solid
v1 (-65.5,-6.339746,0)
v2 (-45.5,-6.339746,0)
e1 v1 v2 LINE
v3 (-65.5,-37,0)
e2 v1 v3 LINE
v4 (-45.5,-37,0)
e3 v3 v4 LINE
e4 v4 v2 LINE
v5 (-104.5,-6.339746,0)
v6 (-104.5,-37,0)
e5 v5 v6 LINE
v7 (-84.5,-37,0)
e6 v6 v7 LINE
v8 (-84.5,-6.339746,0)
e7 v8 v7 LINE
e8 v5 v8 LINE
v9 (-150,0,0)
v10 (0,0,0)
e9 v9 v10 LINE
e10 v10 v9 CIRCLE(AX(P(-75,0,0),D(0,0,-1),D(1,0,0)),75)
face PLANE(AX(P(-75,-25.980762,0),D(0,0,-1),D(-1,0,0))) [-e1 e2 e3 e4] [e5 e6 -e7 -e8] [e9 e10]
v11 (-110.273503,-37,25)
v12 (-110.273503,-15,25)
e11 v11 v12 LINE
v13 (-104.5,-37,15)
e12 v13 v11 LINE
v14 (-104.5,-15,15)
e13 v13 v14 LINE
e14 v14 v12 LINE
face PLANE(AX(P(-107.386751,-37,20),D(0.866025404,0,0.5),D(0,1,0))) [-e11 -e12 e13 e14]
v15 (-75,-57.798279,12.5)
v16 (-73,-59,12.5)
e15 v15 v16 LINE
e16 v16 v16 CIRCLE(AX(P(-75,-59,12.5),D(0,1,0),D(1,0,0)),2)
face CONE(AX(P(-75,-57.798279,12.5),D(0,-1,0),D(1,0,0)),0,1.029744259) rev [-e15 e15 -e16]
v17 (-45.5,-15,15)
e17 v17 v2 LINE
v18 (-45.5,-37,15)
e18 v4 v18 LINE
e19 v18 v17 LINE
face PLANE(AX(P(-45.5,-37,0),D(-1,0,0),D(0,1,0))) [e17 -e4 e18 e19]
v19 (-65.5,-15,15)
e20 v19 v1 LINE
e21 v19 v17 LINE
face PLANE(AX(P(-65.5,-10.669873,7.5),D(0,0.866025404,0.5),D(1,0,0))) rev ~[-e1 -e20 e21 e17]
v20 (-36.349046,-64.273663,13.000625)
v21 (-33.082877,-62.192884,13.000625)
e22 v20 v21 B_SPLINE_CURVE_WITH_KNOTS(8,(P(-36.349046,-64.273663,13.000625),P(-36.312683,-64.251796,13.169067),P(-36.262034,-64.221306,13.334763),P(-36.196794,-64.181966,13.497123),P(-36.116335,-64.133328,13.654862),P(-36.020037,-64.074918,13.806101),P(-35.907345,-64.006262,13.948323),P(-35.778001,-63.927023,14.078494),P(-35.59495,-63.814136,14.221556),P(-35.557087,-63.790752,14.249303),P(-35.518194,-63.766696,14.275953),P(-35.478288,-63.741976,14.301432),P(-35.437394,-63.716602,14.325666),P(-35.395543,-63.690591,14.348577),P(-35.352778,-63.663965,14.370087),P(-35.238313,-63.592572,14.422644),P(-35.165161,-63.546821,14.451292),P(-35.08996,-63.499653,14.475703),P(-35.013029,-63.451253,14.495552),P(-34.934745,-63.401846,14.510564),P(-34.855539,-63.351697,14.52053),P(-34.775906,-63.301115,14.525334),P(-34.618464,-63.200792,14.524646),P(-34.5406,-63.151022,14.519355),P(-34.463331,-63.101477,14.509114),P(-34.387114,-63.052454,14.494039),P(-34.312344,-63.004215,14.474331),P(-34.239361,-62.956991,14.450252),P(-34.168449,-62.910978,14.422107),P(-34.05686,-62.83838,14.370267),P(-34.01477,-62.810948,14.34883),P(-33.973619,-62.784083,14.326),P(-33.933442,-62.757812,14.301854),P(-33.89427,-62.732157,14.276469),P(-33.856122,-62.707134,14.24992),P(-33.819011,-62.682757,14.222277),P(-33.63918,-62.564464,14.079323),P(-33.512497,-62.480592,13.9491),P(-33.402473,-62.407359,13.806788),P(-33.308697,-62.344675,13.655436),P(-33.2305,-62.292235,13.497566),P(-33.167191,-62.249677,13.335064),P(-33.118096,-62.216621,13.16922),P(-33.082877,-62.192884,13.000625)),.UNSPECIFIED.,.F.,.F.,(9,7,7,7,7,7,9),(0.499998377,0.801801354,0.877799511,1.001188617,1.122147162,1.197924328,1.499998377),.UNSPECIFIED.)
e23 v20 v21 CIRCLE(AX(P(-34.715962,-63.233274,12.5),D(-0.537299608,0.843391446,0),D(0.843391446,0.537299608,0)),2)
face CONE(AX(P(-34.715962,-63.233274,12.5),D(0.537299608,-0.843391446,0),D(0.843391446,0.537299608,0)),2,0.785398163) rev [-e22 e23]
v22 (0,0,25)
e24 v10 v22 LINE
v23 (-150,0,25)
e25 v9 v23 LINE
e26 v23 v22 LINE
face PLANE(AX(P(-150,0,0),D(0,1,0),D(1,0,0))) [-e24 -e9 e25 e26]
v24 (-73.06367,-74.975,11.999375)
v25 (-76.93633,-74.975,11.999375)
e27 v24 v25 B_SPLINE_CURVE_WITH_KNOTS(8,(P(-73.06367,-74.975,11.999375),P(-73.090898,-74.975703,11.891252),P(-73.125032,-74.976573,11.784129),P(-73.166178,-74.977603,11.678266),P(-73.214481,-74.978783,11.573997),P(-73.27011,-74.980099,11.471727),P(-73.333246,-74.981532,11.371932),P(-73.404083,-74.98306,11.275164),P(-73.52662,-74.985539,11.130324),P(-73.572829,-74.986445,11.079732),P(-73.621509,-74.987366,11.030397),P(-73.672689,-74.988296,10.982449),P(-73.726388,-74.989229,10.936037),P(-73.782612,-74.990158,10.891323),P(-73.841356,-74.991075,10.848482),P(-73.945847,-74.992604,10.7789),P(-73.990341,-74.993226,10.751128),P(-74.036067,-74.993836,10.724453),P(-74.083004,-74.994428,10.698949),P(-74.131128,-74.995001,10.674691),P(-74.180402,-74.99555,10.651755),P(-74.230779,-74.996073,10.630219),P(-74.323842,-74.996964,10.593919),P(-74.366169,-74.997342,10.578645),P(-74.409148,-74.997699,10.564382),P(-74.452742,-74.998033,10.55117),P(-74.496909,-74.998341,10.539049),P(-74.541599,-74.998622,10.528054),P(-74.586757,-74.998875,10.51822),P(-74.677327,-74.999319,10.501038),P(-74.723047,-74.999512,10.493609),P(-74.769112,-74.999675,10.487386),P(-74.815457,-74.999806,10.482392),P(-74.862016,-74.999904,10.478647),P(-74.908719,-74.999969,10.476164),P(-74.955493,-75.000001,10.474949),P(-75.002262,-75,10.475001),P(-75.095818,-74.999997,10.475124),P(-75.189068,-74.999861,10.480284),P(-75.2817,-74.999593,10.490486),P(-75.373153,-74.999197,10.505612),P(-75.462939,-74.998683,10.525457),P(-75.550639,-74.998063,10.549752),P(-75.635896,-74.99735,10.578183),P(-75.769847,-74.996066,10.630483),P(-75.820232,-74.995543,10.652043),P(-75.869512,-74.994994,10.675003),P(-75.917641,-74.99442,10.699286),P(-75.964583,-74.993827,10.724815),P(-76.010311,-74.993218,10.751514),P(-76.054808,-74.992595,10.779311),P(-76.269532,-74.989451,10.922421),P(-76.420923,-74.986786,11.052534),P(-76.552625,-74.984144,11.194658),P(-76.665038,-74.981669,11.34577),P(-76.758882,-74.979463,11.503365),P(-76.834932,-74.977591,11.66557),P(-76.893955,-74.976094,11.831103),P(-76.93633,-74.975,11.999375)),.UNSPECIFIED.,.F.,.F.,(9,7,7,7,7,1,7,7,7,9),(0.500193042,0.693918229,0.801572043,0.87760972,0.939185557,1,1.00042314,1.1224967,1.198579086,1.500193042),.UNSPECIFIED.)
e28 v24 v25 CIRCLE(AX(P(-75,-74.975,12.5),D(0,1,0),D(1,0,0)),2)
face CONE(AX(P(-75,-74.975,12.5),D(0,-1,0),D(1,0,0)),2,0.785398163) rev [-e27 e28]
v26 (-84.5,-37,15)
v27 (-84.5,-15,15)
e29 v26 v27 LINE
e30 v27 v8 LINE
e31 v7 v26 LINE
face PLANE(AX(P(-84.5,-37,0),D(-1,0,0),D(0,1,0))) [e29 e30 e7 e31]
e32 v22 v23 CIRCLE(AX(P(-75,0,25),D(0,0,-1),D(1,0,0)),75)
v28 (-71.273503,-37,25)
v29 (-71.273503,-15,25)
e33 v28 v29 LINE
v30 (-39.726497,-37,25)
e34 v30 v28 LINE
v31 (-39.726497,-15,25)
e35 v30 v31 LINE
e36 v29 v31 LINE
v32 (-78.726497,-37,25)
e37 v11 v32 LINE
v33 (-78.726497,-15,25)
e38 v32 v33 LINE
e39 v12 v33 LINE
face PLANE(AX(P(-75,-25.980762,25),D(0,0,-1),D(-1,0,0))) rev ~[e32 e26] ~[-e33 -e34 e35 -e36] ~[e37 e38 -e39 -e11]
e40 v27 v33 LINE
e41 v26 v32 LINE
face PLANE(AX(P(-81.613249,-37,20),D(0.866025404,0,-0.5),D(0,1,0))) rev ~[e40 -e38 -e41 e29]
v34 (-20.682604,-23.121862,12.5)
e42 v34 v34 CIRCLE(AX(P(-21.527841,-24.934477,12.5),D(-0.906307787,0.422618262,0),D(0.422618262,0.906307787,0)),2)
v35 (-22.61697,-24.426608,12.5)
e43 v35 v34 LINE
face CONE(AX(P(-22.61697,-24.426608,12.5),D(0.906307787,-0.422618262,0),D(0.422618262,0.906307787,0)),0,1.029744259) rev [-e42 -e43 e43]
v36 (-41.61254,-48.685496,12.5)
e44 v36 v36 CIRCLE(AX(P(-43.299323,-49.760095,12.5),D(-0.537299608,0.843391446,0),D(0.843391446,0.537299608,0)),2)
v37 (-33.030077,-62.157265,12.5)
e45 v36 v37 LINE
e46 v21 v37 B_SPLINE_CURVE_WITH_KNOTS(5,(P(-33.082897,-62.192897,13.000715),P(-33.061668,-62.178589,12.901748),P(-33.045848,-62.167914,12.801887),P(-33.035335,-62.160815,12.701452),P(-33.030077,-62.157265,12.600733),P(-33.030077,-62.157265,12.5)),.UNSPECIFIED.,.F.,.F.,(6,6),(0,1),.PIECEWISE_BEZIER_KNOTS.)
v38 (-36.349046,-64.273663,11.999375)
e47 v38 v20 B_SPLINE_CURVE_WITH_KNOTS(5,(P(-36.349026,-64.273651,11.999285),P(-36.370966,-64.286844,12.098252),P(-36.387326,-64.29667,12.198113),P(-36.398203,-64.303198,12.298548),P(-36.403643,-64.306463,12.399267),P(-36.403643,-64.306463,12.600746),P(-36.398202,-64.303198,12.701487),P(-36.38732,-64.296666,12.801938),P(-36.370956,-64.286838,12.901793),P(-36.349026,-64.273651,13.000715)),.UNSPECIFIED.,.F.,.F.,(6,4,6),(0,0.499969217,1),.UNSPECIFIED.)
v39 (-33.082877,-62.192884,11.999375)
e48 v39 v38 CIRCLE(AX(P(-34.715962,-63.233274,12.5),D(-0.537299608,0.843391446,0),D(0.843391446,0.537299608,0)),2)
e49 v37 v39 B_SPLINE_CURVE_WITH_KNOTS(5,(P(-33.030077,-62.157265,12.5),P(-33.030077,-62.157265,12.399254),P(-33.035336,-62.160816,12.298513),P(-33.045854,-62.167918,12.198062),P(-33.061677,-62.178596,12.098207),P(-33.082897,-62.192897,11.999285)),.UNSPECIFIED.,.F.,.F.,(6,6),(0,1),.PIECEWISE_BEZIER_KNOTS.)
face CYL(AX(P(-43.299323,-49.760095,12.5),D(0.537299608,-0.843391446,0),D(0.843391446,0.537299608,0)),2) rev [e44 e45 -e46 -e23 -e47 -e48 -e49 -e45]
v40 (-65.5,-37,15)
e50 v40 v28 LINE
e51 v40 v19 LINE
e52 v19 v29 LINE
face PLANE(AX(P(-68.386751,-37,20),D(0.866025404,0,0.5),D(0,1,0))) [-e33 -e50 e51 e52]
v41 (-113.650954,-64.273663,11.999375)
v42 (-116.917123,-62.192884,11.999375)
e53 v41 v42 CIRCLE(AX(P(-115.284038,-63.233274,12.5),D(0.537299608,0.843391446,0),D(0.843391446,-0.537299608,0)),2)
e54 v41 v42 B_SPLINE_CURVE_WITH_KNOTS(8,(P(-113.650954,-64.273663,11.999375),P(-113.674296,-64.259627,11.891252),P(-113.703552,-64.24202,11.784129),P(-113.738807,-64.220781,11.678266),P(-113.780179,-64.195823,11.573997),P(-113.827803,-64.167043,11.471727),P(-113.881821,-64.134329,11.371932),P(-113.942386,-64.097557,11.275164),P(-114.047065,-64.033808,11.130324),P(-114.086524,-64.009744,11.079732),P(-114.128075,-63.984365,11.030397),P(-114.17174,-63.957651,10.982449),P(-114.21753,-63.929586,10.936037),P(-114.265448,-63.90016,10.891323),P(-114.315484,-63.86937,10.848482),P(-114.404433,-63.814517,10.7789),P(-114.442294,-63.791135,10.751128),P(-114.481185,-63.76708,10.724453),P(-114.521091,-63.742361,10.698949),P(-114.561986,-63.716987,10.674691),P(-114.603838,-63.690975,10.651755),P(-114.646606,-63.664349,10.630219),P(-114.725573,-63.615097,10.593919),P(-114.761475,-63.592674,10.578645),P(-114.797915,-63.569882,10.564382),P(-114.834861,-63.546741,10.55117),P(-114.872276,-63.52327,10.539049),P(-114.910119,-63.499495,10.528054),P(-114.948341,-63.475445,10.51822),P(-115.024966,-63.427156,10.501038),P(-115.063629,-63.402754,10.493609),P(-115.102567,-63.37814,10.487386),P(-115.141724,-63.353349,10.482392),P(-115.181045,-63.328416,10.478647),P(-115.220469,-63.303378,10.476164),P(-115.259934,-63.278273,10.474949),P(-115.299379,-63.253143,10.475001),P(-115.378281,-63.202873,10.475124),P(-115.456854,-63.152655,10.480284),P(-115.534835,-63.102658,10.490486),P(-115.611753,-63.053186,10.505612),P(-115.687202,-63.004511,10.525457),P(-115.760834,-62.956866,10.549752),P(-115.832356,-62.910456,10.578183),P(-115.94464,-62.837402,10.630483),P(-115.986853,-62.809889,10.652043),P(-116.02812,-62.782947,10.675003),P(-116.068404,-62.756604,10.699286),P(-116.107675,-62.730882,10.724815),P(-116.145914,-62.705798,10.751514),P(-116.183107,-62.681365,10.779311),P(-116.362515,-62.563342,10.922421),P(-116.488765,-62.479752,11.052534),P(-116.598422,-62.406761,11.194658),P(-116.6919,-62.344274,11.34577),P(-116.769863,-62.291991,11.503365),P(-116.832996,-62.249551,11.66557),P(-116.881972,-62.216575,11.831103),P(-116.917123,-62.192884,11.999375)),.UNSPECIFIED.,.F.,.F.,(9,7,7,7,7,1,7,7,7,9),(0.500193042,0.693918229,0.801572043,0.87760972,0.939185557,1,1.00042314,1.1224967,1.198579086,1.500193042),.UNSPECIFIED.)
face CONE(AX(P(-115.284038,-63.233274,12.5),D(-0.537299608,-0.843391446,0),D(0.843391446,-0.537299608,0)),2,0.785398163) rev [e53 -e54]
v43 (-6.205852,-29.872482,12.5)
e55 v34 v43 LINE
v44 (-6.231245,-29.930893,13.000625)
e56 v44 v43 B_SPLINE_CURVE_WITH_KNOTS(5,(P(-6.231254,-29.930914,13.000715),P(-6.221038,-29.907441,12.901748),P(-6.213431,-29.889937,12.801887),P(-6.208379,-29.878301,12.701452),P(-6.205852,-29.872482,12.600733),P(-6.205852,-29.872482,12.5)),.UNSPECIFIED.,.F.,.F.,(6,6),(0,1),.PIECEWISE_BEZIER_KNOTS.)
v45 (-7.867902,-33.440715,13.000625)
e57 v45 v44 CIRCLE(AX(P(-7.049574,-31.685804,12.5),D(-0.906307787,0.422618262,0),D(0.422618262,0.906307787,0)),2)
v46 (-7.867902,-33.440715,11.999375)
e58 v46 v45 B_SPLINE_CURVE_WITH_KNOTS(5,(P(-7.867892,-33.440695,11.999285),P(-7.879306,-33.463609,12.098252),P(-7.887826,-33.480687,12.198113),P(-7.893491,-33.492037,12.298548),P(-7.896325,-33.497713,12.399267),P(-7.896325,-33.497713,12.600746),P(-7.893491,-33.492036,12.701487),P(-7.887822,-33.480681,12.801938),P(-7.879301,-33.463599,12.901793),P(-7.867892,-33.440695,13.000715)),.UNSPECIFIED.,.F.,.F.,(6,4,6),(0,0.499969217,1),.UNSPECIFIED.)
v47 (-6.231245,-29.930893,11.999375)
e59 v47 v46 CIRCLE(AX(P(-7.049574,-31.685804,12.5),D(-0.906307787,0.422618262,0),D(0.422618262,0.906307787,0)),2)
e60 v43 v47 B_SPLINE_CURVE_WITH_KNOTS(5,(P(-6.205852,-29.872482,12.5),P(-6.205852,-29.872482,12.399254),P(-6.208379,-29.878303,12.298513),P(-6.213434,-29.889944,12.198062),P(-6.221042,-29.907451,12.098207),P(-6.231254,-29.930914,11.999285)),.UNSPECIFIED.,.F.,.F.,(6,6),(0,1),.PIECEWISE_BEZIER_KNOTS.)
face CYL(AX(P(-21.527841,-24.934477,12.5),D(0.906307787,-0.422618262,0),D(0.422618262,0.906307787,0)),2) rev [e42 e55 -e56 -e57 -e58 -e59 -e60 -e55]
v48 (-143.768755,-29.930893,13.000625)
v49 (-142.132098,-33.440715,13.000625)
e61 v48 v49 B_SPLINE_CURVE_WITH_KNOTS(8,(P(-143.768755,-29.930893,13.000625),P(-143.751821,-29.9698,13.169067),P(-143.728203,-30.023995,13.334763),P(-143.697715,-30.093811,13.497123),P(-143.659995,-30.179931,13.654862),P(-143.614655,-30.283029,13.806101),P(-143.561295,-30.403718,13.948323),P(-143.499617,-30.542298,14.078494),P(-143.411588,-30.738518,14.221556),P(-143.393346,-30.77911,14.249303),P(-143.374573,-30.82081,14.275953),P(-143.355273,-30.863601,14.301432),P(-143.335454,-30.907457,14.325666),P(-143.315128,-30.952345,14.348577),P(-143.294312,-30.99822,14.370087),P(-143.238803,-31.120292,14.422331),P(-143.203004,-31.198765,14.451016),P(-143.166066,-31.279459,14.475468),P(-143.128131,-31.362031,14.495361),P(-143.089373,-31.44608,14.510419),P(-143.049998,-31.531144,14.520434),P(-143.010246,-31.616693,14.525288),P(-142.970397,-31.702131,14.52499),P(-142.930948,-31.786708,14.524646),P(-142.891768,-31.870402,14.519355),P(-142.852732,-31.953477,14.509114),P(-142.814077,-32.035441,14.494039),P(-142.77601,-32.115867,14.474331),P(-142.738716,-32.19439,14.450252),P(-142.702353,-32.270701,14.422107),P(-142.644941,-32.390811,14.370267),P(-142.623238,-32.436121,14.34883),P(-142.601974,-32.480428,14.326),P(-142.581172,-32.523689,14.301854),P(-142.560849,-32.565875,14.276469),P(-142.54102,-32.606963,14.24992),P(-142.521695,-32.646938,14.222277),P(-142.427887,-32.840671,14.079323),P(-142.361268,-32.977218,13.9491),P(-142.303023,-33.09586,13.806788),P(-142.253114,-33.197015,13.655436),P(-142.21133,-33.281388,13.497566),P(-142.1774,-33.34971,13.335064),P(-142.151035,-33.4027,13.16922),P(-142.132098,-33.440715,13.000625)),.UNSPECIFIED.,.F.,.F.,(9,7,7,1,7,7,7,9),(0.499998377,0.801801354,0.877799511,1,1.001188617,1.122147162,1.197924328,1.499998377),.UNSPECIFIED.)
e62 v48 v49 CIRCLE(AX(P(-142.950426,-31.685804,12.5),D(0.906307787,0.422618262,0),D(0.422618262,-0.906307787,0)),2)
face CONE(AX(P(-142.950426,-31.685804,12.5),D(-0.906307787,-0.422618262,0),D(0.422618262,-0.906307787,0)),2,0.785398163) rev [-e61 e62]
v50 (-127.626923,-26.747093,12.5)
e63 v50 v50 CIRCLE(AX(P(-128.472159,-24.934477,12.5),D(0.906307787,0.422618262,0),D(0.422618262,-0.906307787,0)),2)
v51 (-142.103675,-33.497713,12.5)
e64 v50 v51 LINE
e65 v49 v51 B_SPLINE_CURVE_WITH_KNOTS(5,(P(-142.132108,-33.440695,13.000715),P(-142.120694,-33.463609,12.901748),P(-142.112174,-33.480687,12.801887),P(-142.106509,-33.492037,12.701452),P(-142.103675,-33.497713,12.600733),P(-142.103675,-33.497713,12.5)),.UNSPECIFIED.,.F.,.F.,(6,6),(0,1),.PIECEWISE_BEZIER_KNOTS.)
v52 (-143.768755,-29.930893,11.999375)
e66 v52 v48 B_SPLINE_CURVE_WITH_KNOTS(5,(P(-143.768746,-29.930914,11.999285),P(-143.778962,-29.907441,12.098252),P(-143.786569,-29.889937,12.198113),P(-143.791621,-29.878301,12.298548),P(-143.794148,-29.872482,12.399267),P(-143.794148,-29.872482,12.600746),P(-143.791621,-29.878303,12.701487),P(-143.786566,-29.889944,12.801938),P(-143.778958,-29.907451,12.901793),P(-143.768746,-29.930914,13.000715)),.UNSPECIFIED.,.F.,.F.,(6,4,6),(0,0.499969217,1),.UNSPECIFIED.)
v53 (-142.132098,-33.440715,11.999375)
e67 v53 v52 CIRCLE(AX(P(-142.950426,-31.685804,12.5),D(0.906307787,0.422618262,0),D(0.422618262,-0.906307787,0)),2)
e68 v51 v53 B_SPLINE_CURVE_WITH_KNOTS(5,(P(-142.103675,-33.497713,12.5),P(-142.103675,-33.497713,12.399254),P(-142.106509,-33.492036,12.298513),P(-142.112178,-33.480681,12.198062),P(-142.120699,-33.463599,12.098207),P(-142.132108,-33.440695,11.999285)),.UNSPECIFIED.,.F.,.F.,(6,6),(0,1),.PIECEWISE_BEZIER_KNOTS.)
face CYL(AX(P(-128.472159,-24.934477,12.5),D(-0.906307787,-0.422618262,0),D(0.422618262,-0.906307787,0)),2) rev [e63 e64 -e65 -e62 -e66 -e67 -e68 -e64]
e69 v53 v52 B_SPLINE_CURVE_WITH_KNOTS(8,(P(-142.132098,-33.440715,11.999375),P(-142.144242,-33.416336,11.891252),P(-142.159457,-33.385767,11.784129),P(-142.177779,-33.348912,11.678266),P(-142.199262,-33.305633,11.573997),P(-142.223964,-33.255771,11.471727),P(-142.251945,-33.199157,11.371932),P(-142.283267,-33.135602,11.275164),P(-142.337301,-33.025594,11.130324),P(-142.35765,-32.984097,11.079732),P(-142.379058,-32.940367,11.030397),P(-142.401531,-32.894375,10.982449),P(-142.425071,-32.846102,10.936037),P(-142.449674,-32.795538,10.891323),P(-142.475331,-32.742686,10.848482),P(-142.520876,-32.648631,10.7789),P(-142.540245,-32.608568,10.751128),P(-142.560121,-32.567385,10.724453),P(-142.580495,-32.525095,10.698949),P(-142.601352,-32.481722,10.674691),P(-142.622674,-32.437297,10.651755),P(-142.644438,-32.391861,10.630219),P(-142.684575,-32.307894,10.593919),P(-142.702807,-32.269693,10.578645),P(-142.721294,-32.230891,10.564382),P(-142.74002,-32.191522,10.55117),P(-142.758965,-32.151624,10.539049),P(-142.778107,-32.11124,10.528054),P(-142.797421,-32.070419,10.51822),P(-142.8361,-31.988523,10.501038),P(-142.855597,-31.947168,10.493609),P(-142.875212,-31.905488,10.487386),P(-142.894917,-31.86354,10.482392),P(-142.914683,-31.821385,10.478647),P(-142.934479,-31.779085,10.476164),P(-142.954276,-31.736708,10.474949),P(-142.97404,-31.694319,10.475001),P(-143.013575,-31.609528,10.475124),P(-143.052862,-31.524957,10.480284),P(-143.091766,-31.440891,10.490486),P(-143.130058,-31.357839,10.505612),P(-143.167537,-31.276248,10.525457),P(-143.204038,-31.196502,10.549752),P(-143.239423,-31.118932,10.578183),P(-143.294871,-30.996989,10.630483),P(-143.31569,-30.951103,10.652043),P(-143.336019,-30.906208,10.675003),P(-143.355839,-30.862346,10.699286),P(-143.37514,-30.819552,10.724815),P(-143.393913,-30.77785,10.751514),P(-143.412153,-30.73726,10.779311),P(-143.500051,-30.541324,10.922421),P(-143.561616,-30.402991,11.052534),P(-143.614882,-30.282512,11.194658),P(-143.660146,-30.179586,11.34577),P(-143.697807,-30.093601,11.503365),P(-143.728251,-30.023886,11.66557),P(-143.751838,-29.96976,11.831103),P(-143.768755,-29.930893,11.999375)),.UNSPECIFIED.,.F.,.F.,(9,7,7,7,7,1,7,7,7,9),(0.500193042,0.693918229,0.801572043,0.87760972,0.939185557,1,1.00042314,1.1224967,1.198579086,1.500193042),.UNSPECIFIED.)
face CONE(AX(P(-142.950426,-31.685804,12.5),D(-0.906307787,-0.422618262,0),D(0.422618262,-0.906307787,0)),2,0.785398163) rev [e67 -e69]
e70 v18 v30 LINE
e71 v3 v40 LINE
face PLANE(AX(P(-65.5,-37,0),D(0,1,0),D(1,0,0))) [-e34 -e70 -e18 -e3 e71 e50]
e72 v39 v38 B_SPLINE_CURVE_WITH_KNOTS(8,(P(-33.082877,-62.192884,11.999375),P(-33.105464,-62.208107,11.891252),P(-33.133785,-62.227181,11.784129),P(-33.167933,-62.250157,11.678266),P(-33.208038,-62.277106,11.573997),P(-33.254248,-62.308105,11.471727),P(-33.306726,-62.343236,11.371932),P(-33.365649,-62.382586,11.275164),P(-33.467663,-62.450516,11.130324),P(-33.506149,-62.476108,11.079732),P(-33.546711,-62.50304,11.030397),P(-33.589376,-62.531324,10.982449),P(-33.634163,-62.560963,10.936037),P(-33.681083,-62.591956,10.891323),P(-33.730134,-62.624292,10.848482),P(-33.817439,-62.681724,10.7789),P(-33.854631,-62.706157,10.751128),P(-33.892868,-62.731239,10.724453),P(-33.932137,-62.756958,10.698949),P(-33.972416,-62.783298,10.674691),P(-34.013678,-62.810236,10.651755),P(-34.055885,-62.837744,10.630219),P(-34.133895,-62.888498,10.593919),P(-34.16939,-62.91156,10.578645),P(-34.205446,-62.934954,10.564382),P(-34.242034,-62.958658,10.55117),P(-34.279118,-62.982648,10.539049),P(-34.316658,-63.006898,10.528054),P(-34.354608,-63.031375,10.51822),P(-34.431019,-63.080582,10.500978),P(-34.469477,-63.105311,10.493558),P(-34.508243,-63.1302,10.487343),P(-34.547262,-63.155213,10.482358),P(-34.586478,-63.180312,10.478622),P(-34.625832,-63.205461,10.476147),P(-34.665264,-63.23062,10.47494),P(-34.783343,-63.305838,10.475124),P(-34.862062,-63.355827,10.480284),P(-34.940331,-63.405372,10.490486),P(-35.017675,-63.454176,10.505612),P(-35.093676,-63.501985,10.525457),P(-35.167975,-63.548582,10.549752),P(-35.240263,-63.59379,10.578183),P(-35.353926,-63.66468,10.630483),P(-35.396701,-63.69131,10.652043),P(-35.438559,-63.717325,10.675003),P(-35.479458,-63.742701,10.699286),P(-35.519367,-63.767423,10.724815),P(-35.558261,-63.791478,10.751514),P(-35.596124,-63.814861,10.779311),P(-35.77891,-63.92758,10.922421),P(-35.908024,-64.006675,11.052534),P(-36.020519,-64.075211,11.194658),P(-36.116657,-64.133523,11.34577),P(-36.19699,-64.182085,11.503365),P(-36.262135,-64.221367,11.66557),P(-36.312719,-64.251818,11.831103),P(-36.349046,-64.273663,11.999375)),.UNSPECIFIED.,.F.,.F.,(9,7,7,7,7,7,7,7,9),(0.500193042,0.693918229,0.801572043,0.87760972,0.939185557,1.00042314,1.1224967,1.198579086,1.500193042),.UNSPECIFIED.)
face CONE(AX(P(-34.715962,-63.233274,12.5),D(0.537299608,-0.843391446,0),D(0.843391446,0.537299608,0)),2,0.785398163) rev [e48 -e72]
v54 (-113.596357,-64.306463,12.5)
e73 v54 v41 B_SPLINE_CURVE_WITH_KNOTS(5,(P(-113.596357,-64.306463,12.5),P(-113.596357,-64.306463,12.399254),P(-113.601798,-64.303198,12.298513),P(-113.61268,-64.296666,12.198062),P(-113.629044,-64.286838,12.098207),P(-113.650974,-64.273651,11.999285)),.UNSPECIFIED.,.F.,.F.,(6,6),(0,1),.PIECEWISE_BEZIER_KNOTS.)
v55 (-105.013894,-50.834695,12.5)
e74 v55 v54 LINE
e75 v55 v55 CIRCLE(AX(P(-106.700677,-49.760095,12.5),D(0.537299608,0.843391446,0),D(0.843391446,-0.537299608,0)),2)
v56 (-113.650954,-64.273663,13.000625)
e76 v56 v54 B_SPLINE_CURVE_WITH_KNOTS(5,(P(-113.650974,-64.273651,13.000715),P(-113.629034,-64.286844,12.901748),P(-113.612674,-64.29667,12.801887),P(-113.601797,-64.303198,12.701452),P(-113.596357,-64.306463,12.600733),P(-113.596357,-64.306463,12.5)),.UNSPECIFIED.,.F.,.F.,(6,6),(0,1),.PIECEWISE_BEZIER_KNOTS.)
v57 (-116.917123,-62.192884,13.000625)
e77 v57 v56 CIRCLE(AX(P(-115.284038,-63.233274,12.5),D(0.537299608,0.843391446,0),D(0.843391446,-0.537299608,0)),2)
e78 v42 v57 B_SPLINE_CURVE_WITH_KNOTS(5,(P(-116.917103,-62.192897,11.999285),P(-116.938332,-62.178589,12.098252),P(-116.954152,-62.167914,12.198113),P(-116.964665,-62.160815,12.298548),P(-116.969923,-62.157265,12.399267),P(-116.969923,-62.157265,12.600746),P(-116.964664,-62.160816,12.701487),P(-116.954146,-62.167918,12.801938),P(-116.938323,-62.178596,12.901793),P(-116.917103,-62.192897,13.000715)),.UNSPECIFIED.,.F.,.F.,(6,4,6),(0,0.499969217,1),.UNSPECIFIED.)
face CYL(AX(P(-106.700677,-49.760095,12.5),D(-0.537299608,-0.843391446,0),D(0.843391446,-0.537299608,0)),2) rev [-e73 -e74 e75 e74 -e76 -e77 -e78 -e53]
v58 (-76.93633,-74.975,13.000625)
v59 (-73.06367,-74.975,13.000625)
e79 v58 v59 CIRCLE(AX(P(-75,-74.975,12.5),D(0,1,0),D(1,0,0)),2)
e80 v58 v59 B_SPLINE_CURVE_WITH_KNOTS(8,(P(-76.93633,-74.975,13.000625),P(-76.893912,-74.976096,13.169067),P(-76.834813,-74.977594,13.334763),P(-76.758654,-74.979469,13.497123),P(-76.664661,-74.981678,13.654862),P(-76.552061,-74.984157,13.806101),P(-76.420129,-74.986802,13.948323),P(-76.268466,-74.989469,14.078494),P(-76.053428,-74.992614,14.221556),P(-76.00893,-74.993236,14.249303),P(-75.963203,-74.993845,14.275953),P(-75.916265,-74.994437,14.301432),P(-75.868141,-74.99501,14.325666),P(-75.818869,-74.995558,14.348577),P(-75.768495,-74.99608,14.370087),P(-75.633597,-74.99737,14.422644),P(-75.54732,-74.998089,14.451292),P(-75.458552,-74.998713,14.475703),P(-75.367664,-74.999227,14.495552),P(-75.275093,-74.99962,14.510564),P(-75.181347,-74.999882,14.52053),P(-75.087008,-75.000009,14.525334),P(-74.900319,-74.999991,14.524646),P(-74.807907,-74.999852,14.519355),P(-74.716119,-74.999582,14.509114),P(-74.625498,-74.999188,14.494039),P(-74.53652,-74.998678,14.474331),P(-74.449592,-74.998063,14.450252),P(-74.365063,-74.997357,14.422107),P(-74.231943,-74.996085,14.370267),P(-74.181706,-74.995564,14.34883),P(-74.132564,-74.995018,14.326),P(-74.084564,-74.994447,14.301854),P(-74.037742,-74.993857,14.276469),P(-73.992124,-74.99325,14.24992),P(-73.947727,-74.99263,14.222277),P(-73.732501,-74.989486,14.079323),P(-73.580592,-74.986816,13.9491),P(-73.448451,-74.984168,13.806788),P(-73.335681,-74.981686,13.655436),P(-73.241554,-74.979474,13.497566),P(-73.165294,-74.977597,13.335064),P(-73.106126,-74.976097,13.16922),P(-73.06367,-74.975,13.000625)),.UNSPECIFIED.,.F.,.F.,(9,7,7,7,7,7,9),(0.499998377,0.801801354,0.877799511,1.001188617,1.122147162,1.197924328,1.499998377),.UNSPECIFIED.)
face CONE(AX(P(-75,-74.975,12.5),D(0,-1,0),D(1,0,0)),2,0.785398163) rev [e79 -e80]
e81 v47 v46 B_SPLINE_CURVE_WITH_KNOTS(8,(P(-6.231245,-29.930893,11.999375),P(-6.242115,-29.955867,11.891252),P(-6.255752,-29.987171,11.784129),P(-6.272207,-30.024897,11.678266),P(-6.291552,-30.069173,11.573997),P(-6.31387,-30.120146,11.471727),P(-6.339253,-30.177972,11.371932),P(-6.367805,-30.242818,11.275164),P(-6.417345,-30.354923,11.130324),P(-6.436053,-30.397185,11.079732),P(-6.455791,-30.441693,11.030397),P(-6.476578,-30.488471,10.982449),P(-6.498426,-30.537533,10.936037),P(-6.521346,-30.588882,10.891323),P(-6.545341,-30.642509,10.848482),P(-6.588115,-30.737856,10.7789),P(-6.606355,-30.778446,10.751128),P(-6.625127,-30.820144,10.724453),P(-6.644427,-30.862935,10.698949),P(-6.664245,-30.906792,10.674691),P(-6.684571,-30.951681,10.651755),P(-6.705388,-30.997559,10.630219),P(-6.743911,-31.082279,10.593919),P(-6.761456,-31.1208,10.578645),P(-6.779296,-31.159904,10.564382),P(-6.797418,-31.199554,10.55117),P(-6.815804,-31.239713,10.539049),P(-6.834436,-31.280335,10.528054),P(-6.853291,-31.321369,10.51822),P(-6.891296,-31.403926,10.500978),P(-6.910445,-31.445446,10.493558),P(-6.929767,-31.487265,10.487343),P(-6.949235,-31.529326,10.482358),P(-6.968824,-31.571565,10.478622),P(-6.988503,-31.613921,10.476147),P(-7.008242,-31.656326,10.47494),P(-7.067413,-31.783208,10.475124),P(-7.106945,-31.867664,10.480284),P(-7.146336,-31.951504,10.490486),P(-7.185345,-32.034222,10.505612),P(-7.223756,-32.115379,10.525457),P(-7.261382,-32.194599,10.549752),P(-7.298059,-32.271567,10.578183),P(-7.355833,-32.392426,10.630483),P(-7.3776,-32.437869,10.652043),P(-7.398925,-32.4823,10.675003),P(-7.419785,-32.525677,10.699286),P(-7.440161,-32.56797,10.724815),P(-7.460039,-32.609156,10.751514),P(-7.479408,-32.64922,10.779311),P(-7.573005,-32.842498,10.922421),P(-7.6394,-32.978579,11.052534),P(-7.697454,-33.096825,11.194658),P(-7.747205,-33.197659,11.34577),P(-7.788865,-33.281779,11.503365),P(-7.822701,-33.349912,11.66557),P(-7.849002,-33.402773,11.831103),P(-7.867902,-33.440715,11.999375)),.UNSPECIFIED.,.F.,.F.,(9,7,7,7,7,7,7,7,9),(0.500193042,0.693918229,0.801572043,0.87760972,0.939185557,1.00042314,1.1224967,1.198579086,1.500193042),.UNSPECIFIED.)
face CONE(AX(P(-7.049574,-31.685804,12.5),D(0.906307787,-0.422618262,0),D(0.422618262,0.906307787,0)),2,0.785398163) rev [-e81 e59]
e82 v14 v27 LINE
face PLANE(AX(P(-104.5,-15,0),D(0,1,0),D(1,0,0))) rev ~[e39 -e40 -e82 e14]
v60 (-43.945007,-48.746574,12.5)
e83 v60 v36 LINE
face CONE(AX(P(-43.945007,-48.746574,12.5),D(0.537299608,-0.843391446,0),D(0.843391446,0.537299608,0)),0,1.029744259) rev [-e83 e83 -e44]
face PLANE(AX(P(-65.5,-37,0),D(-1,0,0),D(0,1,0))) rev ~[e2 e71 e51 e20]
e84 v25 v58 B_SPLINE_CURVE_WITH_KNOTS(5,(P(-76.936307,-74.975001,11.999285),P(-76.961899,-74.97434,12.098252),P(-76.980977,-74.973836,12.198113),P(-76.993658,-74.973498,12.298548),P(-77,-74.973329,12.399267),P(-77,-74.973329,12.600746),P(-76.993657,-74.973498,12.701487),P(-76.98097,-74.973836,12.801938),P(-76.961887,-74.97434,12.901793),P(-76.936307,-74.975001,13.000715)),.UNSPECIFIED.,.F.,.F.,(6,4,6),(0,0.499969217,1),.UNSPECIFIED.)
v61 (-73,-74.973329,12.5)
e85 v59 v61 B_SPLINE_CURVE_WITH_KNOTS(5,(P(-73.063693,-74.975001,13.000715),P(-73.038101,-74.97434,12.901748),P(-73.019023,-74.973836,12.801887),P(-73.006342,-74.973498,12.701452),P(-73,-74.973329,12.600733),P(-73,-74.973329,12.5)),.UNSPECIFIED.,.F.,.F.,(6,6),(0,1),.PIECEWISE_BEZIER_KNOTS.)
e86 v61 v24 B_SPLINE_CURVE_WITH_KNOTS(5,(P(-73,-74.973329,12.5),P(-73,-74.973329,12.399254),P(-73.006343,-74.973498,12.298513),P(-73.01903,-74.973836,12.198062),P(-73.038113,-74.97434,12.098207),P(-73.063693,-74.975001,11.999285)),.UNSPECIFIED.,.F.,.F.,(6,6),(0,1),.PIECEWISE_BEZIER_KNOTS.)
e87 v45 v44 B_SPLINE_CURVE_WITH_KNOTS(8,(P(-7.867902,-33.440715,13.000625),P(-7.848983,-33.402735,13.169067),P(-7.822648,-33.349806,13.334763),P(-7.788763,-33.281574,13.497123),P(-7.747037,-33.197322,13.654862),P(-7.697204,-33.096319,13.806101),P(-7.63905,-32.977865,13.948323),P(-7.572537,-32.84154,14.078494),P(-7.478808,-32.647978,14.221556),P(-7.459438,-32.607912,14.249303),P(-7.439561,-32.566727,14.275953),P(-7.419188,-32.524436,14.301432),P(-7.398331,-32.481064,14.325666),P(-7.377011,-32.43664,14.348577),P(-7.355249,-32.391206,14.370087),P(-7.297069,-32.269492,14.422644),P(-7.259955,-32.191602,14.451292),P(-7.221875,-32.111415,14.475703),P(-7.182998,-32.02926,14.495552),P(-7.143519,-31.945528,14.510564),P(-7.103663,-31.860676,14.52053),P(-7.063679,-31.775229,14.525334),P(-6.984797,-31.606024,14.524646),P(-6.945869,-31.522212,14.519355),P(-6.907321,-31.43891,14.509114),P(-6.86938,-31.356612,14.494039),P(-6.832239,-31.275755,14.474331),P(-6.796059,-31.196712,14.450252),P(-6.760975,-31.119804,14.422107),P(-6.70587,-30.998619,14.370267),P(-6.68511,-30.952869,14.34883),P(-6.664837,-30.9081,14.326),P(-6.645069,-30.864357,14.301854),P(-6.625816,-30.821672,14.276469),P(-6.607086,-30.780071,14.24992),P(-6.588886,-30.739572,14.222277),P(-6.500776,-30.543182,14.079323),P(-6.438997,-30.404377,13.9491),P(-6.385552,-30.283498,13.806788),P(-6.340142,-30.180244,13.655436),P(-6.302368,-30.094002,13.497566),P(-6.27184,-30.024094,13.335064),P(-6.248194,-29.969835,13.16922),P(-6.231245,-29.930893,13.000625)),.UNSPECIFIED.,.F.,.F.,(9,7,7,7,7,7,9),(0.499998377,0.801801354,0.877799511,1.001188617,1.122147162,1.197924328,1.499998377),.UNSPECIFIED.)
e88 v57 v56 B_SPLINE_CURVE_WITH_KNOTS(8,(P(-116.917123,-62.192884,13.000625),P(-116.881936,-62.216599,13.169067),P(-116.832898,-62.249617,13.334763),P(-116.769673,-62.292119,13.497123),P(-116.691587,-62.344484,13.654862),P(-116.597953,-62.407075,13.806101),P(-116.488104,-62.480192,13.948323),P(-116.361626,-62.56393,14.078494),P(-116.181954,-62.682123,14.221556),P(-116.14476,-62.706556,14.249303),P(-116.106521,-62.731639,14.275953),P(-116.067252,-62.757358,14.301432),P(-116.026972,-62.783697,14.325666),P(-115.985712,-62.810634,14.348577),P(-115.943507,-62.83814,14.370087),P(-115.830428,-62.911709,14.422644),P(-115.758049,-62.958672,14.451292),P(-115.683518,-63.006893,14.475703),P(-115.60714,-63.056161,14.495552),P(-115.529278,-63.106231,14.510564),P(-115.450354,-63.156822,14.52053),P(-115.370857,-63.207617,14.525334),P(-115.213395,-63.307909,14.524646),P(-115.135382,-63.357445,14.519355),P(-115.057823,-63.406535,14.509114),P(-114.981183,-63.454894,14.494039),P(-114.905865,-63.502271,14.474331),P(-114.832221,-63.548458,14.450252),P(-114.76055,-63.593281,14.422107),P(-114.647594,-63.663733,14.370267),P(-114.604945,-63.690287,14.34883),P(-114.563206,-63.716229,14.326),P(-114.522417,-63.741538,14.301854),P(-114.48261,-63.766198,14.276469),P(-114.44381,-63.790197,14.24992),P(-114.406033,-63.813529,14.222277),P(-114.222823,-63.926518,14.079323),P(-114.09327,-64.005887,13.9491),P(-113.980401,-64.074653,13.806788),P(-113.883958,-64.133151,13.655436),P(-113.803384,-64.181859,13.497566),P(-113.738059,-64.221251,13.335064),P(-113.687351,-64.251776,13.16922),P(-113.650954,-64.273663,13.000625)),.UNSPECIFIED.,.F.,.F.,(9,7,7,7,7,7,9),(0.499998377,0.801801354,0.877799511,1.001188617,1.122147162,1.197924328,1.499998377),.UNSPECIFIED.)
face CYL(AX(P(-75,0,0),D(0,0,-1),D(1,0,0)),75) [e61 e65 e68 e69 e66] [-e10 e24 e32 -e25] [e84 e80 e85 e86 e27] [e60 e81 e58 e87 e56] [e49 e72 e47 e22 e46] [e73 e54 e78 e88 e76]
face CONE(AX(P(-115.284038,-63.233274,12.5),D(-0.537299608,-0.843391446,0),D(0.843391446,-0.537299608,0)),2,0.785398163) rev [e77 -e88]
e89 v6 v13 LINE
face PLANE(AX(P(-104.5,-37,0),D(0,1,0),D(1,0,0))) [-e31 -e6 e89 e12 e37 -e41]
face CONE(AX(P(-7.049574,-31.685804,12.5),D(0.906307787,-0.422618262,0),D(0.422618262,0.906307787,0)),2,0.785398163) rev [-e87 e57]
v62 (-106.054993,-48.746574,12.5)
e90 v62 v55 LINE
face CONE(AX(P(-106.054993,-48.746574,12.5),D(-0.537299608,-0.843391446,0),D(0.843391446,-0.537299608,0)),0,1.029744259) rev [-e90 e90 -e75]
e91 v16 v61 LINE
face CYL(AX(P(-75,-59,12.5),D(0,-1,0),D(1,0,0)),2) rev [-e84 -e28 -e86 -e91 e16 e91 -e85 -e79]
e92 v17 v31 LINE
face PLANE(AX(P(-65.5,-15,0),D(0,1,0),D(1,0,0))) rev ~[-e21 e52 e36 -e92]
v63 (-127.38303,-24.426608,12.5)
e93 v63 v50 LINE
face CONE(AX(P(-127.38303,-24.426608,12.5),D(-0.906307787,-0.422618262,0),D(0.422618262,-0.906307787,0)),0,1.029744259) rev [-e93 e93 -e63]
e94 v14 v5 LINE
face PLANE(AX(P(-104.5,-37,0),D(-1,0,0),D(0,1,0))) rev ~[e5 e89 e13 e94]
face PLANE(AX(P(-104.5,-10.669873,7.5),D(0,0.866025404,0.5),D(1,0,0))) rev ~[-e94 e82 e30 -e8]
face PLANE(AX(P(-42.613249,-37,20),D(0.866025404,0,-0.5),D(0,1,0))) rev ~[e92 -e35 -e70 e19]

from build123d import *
from OCP.BRepFilletAPI import BRepFilletAPI_MakeChamfer

# Parameters (mm, degrees)
SKETCH1_W           = 20
SKETCH1_H           = 22
BOSS_EXTRUDE1_DEPTH = 25
CIRPATTERN1_COUNT   = 5
CIRPATTERN1_ANGLE   = 130
CHAMFER1_SIZE       = 15
CHAMFER1_SIZE2      = 8.660254038
CHAMFER3_SIZE       = 10
CHAMFER3_SIZE2      = 5.773502692


with BuildPart() as part:
    # Sketch1 → Boss-Extrude1 (new body)
    with BuildSketch(Plane.XY):
        with BuildLine():
            Line((-150, 0), (0, 0))
            ThreePointArc((0, 0), (-75, -75), (-150, 0))
        make_face()
        with Locations((-55.5, -26)):
            Rectangle(SKETCH1_W, SKETCH1_H, mode=Mode.SUBTRACT)
        with Locations((-94.5, -26)):
            Rectangle(SKETCH1_W, SKETCH1_H, mode=Mode.SUBTRACT)
    extrude(amount=BOSS_EXTRUDE1_DEPTH)

    # Sketch4 → Ø4.0mm Dowel Hole2 (revolve, cut)
    with BuildSketch(Plane(origin=(-7.026915972, -31.696369631, 12.5), x_dir=(0.4226182617407001, 0.9063077870366498, 0), z_dir=(0, 0, 1))):
        Polygon((0, 0), (0, 17.201721238), (2, 16), (2, 0.025), (2.025, 0), align=None)
    f_4_0mm_dowel_hole2 = revolve(axis=Axis((-1.271861525, -34.379995593, 12.5), (-0.9063077870366496, 0.42261826174070005, 0)), mode=Mode.SUBTRACT)

    # CirPattern1: Ø4.0mm Dowel Hole2 ×5 about axis
    cirpattern1_axis = Axis((-75, 0, 0), (0, 0, -1))
    for i in range(1, CIRPATTERN1_COUNT):
        add(f_4_0mm_dowel_hole2.rotate(cirpattern1_axis, i * CIRPATTERN1_ANGLE / (CIRPATTERN1_COUNT - 1)), mode=Mode.SUBTRACT)

    # Chamfer1: one chamfer whose edges measure the first distance from different faces: ONE call of the kernel's chamfer builder (chamfer() names one face for all edges)
    chamfer1_edges_1 = [part.edges().sort_by_distance(p)[0] for p in [
        (-55.5, -15, 0),
    ]]
    chamfer1_side_1 = [part.faces().sort_by_distance(p)[0] for p in [
        (-55.5, -15, 12.5),
    ]]
    chamfer1_edges_2 = [part.edges().sort_by_distance(p)[0] for p in [
        (-94.5, -15, 0),
    ]]
    chamfer1_side_2 = [part.faces().sort_by_distance(p)[0] for p in [
        (-94.5, -15, 12.5),
    ]]
    chamfer1 = BRepFilletAPI_MakeChamfer(part.part.solid().wrapped)
    for e in chamfer1_edges_1:
        chamfer1.Add(CHAMFER1_SIZE, CHAMFER1_SIZE2, e.wrapped, chamfer1_side_1[0].wrapped)  # the first distance lies on this face
    for e in chamfer1_edges_2:
        chamfer1.Add(CHAMFER1_SIZE, CHAMFER1_SIZE2, e.wrapped, chamfer1_side_2[0].wrapped)  # the first distance lies on this face
    add(Compound.cast(chamfer1.Shape()), mode=Mode.REPLACE)

    # Chamfer3: one chamfer whose edges measure the first distance from different faces: ONE call of the kernel's chamfer builder (chamfer() names one face for all edges)
    chamfer3_edges_1 = [part.edges().sort_by_distance(p)[0] for p in [
        (-104.5, -26, 25),
    ]]
    chamfer3_side_1 = [part.faces().sort_by_distance(p)[0] for p in [
        (-104.5, -24.533265853, 11.707841645),
    ]]
    chamfer3_edges_2 = [part.edges().sort_by_distance(p)[0] for p in [
        (-84.5, -26, 25),
    ]]
    chamfer3_side_2 = [part.faces().sort_by_distance(p)[0] for p in [
        (-84.5, -24.533265853, 11.707841645),
    ]]
    chamfer3_edges_3 = [part.edges().sort_by_distance(p)[0] for p in [
        (-45.5, -26, 25),
    ]]
    chamfer3_side_3 = [part.faces().sort_by_distance(p)[0] for p in [
        (-45.5, -24.533265853, 11.707841645),
    ]]
    chamfer3_edges_4 = [part.edges().sort_by_distance(p)[0] for p in [
        (-65.5, -26, 25),
    ]]
    chamfer3_side_4 = [part.faces().sort_by_distance(p)[0] for p in [
        (-65.5, -24.533265853, 11.707841645),
    ]]
    chamfer3 = BRepFilletAPI_MakeChamfer(part.part.solid().wrapped)
    for e in chamfer3_edges_1:
        chamfer3.Add(CHAMFER3_SIZE, CHAMFER3_SIZE2, e.wrapped, chamfer3_side_1[0].wrapped)  # the first distance lies on this face
    for e in chamfer3_edges_2:
        chamfer3.Add(CHAMFER3_SIZE, CHAMFER3_SIZE2, e.wrapped, chamfer3_side_2[0].wrapped)  # the first distance lies on this face
    for e in chamfer3_edges_3:
        chamfer3.Add(CHAMFER3_SIZE, CHAMFER3_SIZE2, e.wrapped, chamfer3_side_3[0].wrapped)  # the first distance lies on this face
    for e in chamfer3_edges_4:
        chamfer3.Add(CHAMFER3_SIZE, CHAMFER3_SIZE2, e.wrapped, chamfer3_side_4[0].wrapped)  # the first distance lies on this face
    add(Compound.cast(chamfer3.Shape()), mode=Mode.REPLACE)


solid = part.part
